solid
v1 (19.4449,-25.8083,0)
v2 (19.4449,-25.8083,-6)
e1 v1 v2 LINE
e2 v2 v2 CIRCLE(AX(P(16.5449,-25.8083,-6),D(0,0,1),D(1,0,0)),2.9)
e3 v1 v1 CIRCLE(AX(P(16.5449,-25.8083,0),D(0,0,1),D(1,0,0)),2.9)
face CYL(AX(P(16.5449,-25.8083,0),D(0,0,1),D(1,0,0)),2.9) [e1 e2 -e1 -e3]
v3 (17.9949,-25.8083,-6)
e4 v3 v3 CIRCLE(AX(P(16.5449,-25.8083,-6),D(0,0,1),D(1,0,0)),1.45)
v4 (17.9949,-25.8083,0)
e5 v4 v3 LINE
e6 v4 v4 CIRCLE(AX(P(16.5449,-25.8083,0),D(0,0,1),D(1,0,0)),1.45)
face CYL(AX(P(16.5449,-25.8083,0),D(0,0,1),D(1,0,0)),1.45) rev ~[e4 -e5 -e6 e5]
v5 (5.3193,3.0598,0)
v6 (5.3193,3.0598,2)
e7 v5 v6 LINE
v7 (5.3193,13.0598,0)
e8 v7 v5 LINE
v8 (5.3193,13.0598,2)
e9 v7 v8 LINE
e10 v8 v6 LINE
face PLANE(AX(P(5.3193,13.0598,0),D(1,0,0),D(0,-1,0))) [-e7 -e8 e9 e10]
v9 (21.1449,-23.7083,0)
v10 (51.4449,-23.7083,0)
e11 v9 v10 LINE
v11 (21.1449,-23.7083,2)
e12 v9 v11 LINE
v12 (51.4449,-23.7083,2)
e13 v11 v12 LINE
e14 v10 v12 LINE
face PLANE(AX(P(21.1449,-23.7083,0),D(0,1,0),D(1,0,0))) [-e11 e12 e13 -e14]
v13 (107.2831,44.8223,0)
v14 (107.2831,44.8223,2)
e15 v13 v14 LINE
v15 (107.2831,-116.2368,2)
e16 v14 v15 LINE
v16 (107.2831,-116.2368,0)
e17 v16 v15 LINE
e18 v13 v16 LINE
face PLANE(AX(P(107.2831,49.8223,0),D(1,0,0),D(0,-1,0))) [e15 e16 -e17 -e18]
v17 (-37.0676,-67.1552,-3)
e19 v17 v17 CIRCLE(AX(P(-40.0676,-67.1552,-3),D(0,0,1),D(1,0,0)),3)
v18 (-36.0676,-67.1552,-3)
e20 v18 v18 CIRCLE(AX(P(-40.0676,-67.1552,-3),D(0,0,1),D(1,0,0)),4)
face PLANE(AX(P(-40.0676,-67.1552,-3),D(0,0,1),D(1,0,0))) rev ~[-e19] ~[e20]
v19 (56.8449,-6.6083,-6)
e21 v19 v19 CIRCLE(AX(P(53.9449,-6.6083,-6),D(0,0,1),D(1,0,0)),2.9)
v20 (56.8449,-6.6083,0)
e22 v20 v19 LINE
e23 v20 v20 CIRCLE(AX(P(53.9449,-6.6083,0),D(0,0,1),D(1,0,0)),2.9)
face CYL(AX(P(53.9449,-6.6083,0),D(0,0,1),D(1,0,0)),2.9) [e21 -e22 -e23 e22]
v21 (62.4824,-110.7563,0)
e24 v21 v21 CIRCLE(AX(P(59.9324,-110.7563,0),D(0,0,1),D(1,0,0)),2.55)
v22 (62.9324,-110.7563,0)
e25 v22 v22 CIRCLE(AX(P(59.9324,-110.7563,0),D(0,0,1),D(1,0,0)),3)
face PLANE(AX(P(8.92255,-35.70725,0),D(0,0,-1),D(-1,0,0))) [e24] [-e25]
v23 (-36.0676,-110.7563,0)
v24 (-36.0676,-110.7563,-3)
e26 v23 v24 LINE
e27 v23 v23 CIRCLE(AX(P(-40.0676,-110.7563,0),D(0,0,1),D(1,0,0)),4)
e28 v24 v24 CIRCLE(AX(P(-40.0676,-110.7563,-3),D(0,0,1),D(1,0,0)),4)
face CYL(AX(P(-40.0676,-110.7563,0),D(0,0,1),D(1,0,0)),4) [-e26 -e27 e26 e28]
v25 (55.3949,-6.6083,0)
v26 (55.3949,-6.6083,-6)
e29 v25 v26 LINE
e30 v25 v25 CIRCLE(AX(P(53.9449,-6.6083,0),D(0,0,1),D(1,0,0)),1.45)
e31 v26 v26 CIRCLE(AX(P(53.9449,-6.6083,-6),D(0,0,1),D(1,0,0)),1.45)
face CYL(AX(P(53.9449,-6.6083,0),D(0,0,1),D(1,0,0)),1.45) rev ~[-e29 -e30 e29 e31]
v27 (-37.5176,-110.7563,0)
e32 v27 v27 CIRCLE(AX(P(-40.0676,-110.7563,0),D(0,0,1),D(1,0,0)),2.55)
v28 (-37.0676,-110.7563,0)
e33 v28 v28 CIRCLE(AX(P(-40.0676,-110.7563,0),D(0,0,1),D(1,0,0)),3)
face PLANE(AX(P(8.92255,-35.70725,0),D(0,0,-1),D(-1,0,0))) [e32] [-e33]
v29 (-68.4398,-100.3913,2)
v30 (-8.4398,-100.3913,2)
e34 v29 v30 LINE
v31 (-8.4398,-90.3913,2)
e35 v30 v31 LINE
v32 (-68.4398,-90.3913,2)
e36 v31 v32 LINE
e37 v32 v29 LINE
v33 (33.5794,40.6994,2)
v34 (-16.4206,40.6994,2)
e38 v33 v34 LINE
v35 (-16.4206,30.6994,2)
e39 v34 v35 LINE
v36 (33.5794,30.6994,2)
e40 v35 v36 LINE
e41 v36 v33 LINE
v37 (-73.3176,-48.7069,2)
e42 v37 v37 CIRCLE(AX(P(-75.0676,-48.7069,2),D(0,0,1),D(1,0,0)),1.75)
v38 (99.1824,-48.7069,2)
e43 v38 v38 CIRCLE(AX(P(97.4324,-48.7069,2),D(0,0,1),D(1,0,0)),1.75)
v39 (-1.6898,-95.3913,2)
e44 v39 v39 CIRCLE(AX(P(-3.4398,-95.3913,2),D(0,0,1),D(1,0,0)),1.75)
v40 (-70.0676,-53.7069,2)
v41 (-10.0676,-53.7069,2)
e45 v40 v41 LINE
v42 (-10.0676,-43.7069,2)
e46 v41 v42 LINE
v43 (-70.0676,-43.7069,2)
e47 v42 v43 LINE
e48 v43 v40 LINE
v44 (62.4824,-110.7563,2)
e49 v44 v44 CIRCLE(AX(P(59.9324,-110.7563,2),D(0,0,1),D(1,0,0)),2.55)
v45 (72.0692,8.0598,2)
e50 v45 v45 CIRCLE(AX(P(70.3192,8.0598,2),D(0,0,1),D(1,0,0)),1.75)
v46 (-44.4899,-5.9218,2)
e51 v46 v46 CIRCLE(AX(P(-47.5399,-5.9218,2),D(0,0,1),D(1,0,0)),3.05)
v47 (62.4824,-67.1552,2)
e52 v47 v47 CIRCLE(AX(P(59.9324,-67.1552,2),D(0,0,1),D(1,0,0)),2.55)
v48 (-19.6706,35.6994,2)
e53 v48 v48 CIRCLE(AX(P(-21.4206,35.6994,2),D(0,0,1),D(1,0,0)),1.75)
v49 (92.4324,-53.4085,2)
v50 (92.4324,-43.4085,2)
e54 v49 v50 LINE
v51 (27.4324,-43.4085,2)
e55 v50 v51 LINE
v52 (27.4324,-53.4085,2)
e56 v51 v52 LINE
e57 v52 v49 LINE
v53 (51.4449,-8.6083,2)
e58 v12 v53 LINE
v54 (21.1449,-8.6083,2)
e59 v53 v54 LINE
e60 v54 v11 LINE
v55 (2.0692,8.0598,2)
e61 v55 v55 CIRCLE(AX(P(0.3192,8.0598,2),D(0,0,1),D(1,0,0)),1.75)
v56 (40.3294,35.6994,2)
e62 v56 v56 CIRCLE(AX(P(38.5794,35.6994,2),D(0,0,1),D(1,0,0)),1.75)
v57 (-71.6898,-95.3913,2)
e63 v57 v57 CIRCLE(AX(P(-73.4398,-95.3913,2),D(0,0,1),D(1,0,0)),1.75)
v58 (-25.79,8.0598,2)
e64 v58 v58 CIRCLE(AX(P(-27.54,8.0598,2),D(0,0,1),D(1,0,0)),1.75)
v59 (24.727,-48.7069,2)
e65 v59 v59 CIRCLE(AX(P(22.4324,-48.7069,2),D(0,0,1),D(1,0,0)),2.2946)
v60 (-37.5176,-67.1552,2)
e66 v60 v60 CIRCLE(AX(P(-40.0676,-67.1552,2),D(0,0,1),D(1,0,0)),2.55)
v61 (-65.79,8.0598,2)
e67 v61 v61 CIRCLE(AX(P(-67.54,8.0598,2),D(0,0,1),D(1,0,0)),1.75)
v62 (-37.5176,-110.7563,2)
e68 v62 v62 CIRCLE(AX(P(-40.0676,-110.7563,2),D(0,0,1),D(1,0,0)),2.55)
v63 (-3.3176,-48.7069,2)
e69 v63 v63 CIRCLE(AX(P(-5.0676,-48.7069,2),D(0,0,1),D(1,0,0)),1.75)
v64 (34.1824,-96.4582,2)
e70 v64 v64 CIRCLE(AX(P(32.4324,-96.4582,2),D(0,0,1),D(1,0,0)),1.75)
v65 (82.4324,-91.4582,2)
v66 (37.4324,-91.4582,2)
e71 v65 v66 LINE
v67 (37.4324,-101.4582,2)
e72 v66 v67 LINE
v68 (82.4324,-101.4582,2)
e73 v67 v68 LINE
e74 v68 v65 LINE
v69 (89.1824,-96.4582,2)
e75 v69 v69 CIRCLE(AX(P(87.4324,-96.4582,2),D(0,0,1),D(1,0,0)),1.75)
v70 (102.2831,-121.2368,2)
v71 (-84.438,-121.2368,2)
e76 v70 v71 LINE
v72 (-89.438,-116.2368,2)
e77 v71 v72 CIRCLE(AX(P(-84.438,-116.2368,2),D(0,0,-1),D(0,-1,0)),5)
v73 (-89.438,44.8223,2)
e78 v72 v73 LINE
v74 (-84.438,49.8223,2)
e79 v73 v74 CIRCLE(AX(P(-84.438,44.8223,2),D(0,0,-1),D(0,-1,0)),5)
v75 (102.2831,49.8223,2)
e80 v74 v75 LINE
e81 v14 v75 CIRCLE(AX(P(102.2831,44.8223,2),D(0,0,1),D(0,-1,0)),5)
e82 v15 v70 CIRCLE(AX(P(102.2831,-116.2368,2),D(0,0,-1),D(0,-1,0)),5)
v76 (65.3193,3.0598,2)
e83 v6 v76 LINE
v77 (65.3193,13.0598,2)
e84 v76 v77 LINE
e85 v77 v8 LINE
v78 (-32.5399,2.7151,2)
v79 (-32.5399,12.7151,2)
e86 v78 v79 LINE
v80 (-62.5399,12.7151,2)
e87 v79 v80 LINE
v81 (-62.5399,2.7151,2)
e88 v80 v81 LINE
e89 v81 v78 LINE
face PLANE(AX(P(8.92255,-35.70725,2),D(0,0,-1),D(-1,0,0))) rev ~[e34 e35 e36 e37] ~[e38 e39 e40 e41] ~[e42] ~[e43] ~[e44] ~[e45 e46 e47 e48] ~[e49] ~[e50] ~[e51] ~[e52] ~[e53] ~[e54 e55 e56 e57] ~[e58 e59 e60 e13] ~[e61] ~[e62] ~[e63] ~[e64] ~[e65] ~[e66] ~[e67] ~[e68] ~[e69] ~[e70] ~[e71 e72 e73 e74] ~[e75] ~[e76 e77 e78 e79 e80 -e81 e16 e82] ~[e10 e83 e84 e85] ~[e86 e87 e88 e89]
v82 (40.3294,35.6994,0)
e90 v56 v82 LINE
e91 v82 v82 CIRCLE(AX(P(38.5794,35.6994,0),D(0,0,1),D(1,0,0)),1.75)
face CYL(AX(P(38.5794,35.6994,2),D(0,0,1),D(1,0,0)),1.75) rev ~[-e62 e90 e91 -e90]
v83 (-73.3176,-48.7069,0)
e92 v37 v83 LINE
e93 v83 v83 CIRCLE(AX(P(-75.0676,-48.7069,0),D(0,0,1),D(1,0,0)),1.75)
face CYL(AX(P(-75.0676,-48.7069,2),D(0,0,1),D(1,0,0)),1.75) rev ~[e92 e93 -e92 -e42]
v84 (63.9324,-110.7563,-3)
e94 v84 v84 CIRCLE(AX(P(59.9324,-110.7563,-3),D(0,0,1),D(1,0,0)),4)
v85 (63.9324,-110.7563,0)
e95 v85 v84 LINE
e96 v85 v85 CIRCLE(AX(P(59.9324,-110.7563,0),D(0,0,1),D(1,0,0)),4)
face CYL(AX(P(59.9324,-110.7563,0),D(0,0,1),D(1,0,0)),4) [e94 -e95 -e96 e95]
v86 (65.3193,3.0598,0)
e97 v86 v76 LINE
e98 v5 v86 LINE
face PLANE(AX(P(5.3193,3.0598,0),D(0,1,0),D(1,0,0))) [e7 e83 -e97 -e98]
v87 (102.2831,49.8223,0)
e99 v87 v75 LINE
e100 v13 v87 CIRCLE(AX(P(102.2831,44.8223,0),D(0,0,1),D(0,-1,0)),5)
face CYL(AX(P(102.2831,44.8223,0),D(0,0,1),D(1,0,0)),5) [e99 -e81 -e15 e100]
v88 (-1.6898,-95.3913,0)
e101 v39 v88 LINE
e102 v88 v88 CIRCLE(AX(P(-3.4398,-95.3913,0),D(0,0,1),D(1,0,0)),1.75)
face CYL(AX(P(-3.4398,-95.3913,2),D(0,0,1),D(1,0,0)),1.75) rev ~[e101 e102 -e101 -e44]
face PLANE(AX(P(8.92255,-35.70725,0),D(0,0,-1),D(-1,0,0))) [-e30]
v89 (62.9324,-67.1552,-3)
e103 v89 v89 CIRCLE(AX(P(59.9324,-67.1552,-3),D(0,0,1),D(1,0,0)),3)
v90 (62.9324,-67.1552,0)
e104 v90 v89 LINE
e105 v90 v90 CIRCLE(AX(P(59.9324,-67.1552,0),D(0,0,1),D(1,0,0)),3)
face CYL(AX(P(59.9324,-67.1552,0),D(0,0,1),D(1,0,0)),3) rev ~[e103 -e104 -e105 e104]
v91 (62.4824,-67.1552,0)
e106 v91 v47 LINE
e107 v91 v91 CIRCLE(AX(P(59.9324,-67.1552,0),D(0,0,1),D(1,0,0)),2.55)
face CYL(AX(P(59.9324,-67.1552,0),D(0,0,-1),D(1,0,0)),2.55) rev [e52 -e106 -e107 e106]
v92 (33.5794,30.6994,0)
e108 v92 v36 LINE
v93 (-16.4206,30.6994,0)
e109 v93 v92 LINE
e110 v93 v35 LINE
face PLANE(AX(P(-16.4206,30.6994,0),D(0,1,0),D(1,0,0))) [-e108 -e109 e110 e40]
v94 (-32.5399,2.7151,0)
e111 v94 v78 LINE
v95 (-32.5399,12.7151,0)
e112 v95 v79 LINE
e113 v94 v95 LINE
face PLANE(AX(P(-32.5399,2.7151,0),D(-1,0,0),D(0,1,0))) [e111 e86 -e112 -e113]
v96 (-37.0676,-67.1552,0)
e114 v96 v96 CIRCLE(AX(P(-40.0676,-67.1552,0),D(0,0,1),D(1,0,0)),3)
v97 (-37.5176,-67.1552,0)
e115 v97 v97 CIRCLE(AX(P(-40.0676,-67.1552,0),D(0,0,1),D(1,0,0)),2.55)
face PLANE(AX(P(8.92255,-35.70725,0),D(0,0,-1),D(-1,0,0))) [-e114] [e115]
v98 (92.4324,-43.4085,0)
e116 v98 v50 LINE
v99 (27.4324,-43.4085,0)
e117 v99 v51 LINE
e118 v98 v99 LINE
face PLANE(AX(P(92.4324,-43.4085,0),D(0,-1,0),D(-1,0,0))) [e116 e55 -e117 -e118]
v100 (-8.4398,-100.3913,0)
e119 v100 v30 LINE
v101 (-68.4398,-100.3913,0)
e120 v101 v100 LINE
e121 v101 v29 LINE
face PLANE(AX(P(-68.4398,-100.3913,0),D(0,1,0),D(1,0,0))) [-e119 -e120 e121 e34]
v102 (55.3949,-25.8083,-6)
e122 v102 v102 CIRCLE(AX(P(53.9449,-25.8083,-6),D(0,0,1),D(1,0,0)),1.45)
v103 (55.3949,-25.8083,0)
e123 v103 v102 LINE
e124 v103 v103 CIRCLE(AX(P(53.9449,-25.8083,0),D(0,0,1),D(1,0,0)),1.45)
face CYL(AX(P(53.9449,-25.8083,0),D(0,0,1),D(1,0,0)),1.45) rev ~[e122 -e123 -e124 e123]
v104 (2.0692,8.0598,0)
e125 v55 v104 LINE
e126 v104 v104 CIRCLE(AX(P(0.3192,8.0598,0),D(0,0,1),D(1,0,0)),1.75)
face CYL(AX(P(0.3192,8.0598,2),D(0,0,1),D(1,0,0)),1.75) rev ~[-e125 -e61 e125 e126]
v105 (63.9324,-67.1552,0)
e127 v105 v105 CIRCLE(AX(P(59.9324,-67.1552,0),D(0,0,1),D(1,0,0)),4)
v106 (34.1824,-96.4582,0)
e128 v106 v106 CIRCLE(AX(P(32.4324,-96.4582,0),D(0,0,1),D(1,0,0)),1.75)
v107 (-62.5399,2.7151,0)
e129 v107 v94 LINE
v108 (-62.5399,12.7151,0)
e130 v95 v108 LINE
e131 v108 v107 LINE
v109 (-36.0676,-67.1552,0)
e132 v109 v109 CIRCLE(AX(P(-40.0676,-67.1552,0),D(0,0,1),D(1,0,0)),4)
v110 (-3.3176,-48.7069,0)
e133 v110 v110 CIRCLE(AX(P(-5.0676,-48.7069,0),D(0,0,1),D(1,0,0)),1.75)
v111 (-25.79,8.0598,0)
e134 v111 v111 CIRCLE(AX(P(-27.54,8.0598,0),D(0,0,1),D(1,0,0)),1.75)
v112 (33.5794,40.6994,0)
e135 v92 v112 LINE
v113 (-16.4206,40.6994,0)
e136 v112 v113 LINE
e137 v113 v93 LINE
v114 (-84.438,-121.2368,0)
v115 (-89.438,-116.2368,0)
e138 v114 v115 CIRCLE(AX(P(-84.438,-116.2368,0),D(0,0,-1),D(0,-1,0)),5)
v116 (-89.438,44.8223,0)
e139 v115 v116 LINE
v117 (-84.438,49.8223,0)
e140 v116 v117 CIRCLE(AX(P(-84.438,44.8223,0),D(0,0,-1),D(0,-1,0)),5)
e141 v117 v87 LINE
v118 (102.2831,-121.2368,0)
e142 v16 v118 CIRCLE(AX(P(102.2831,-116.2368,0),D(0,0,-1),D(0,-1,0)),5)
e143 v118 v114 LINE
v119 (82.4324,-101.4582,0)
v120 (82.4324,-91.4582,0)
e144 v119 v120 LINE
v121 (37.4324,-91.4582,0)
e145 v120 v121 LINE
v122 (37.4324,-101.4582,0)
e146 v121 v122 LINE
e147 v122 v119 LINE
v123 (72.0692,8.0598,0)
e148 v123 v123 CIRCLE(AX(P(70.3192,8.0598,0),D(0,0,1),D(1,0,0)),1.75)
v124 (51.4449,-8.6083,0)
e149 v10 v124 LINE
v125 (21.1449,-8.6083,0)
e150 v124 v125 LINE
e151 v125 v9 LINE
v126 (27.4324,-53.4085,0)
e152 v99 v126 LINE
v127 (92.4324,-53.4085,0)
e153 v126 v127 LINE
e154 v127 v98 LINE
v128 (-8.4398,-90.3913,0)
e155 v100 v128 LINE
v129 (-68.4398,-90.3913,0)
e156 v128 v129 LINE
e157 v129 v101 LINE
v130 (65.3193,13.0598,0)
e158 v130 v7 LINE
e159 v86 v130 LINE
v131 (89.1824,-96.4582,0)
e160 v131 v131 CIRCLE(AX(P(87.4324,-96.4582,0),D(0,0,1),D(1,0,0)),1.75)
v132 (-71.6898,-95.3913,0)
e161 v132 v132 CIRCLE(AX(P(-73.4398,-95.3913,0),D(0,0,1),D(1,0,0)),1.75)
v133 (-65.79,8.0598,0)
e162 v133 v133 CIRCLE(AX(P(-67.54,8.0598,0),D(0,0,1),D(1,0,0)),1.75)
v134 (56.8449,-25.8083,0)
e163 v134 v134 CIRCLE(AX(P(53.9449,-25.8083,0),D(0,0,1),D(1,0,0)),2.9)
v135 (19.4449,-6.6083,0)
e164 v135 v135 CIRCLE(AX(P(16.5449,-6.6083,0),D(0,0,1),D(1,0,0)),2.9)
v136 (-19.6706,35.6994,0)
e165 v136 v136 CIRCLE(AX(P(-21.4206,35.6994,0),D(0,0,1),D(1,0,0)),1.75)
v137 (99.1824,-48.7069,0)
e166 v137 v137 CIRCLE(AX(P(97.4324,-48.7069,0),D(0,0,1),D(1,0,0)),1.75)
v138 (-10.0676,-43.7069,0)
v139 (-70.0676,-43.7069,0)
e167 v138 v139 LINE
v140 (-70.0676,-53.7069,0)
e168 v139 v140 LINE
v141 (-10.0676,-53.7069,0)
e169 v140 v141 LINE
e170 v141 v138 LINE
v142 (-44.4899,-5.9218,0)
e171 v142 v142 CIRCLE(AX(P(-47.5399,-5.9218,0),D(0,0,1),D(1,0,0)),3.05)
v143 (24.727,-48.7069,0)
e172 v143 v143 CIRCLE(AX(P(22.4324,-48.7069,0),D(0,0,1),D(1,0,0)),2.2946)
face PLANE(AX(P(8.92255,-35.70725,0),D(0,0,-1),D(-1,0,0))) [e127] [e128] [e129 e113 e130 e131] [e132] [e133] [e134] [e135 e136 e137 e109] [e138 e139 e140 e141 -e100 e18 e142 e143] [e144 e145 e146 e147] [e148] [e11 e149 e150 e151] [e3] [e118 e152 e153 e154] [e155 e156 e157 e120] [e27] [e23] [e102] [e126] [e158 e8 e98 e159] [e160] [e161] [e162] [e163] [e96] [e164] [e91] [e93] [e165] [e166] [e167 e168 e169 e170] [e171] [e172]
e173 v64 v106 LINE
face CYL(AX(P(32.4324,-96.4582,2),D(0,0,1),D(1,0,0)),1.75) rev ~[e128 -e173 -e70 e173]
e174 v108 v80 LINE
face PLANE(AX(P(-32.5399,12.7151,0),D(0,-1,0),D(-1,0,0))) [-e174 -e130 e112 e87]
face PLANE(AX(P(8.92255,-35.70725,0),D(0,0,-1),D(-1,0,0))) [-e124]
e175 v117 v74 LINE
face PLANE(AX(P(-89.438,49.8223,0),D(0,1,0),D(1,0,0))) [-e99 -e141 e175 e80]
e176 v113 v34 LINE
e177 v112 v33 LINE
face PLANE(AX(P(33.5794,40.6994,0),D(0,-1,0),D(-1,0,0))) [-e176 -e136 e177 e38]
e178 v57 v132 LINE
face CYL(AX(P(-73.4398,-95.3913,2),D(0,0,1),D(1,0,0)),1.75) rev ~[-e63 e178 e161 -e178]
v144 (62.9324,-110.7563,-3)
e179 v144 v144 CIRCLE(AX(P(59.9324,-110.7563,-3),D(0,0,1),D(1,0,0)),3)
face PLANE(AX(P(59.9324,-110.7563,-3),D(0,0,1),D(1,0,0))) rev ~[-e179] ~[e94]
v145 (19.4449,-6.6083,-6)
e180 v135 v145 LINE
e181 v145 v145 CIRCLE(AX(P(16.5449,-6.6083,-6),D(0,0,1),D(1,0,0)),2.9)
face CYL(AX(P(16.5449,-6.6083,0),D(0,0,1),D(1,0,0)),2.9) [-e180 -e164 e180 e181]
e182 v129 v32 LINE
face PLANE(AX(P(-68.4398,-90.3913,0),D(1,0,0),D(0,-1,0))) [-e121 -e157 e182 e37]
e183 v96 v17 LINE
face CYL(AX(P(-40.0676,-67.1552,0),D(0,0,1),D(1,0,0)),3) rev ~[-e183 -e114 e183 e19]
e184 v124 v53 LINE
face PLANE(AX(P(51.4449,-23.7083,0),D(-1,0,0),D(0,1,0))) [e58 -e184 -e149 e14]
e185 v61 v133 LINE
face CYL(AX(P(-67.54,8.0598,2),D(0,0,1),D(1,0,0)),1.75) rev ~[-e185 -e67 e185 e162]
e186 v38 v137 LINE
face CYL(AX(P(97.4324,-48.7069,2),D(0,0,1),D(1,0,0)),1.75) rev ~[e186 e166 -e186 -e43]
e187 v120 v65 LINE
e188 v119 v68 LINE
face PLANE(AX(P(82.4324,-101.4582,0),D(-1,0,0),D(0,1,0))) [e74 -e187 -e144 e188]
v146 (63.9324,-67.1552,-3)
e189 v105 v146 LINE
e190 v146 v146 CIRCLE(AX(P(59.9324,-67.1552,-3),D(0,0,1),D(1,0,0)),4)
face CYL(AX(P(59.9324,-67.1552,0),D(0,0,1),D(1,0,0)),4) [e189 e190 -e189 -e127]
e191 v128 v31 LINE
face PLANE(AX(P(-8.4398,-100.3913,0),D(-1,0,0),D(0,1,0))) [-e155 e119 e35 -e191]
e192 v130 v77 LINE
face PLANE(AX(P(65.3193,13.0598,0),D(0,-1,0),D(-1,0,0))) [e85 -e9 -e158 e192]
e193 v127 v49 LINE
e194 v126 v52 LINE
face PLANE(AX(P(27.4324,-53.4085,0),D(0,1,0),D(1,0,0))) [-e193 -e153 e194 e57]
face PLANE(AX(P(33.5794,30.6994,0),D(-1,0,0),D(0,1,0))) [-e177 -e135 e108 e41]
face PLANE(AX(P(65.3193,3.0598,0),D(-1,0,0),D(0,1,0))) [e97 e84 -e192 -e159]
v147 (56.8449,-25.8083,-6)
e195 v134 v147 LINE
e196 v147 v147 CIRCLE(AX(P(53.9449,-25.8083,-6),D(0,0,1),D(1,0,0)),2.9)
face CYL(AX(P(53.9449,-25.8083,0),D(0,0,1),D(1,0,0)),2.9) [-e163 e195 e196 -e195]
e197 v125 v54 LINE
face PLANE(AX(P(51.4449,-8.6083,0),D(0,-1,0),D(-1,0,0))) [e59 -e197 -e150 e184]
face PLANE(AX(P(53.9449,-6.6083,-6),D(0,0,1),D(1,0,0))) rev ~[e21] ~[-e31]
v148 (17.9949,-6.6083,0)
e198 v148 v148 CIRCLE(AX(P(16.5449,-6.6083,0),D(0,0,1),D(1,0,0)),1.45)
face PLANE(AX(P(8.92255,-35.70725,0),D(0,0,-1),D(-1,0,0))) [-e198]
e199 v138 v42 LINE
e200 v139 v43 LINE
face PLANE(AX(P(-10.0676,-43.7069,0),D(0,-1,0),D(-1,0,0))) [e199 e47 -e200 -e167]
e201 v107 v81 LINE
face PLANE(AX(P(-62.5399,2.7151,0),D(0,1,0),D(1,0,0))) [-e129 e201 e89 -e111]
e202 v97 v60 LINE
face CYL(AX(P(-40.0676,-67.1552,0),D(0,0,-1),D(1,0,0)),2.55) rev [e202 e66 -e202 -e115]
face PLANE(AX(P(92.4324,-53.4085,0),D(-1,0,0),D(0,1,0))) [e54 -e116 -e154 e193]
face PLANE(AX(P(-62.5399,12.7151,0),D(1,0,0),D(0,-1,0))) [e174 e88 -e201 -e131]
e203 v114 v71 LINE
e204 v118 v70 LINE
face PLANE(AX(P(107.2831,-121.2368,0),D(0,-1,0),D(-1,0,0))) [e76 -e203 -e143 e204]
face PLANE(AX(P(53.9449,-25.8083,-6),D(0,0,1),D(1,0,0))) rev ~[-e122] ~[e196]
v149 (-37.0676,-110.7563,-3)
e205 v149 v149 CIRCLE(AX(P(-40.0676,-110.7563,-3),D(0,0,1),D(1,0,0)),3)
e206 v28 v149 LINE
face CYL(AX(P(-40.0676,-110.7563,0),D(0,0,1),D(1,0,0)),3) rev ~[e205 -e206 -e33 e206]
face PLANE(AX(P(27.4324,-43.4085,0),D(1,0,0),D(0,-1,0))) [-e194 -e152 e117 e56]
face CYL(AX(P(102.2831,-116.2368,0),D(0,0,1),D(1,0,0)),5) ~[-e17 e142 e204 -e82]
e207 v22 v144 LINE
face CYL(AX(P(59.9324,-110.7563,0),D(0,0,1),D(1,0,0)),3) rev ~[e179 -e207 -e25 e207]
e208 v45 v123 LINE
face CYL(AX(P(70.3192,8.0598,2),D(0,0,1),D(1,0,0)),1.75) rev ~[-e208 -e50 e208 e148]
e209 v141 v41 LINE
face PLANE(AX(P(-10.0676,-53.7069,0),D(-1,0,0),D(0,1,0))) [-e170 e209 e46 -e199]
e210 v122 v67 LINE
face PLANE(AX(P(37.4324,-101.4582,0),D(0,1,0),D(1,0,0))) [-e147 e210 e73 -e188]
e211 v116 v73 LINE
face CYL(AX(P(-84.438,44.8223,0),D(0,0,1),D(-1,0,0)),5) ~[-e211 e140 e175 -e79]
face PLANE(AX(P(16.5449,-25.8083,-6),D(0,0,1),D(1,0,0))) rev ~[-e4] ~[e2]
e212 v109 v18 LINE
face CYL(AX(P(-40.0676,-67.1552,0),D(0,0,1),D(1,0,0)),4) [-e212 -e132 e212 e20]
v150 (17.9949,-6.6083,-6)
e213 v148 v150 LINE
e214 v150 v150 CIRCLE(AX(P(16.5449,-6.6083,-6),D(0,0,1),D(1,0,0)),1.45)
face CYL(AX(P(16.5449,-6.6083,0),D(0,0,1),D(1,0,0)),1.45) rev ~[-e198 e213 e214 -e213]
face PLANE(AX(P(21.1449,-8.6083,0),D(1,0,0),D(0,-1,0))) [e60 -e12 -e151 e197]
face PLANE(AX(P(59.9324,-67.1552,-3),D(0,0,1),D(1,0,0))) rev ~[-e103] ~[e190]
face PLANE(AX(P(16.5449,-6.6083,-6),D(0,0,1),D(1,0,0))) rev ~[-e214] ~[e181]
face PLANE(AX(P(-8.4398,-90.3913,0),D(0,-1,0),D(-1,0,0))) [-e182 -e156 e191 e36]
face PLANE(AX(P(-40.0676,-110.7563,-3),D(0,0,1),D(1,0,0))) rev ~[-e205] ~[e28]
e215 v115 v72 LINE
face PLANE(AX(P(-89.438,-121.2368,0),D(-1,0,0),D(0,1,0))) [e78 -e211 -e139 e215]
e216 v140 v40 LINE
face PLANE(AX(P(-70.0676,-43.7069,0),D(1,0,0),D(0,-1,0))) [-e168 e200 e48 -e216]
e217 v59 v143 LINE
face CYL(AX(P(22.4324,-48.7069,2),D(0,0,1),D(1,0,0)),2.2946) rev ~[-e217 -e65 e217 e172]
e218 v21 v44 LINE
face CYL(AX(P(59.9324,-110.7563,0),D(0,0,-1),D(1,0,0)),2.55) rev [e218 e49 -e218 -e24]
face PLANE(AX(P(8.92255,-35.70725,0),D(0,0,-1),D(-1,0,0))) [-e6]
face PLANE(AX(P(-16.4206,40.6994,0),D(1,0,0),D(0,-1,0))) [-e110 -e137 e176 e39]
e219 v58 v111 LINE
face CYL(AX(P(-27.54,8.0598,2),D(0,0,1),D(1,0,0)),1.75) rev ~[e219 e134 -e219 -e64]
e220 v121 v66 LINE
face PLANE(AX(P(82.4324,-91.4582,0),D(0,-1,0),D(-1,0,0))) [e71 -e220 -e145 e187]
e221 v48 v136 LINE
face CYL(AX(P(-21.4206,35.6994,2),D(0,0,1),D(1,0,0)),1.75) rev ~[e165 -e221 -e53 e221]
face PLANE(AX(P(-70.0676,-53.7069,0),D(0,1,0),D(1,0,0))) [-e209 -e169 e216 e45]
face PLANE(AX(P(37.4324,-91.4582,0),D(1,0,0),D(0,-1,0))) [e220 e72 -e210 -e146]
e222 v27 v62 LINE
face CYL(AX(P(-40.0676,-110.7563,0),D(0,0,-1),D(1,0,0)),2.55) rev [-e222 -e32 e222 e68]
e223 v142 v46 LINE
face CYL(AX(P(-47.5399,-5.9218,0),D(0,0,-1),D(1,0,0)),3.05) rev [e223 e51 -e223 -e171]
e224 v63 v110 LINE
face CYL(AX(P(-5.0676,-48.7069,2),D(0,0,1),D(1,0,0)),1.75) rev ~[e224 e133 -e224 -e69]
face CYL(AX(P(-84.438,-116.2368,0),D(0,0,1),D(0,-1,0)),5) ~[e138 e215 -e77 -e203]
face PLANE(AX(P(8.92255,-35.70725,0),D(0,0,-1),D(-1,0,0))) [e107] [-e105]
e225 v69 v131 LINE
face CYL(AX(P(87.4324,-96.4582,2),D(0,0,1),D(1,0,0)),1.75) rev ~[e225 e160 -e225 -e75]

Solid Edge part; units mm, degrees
sketch "Sketch1" plane through (0, 0, 0) normal (0, 0, 1) x (1, 0, 0)
  line L0 (107.2831, 49.8223) -> (107.2831, -121.2368)
  line L1 (107.2831, -121.2368) -> (-89.438, -121.2368)
  line L2 (-89.438, -121.2368) -> (-89.438, 49.8223)
  line L3 (-89.438, 49.8223) -> (107.2831, 49.8223)
  line L4 (-62.5399, 12.7151) -> (-62.5399, 2.7151)
  line L5 (-62.5399, 2.7151) -> (-32.5399, 2.7151)
  line L6 (-32.5399, 2.7151) -> (-32.5399, 12.7151)
  line L7 (-32.5399, 12.7151) -> (-62.5399, 12.7151)
  line L8 (37.4324, -91.4582) -> (37.4324, -101.4582)
  line L9 (37.4324, -101.4582) -> (82.4324, -101.4582)
  line L10 (82.4324, -101.4582) -> (82.4324, -91.4582)
  line L11 (82.4324, -91.4582) -> (37.4324, -91.4582)
  line L12 (27.4324, -43.4085) -> (27.4324, -53.4085)
  line L13 (27.4324, -53.4085) -> (92.4324, -53.4085)
  line L14 (92.4324, -53.4085) -> (92.4324, -43.4085)
  line L15 (92.4324, -43.4085) -> (27.4324, -43.4085)
  line L16 (-70.0676, -43.7069) -> (-70.0676, -53.7069)
  line L17 (-70.0676, -53.7069) -> (-10.0676, -53.7069)
  line L18 (-10.0676, -53.7069) -> (-10.0676, -43.7069)
  line L19 (-10.0676, -43.7069) -> (-70.0676, -43.7069)
  line L20 (-68.4398, -90.3913) -> (-68.4398, -100.3913)
  line L21 (-68.4398, -100.3913) -> (-8.4398, -100.3913)
  line L22 (-8.4398, -100.3913) -> (-8.4398, -90.3913)
  line L23 (-8.4398, -90.3913) -> (-68.4398, -90.3913)
  line L24 (5.3193, 13.0598) -> (5.3193, 3.0598)
  line L25 (5.3193, 3.0598) -> (65.3193, 3.0598)
  line L26 (65.3193, 3.0598) -> (65.3193, 13.0598)
  line L27 (65.3193, 13.0598) -> (5.3193, 13.0598)
  line L28 (33.5794, 40.6994) -> (-16.4206, 40.6994)
  line L29 (-16.4206, 40.6994) -> (-16.4206, 30.6994)
  line L30 (-16.4206, 30.6994) -> (33.5794, 30.6994)
  line L31 (33.5794, 30.6994) -> (33.5794, 40.6994)
  circle A0 centre (53.9449, -6.6083) radius 2.9
  circle A1 centre (-47.5399, -5.9218) radius 3.05
  circle A2 centre (-40.0676, -67.1552) radius 2.55
  circle A3 centre (-40.0676, -110.7563) radius 2.55
  circle A4 centre (59.9324, -110.7563) radius 2.55
  circle A5 centre (59.9324, -67.1552) radius 2.55
  circle A6 centre (16.5449, -25.8083) radius 2.9
  line L32 (51.4449, -23.7083) -> (51.4449, -8.6083)
  line L33 (51.4449, -8.6083) -> (21.1449, -8.6083)
  line L34 (21.1449, -8.6083) -> (21.1449, -23.7083)
  line L35 (21.1449, -23.7083) -> (51.4449, -23.7083)
  circle A7 centre (16.5449, -6.6083) radius 2.9
  circle A8 centre (53.9449, -25.8083) radius 2.9
  dimension "D1" = 100
  dimension "D2" = 100
  dimension "D3" = 10
  dimension "D4" = 10
  dimension "D5" = 2.9
  dimension "D6" = 2.9
  dimension "D7" = 2.5
extrude "Protrusion1" add sketch "Sketch1" along normal blind 2
fillet "Round_1" radius 5 4 edges at (-89.438, -121.2368, 1) (-89.438, 49.8223, 1) (107.2831, -121.2368, 1) (107.2831, 49.8223, 1)
sketch "Sketch2" plane through (0, 0, 0) normal (0, 0, 1) x (1, 0, 0)
  circle A0 centre (-40.0676, -110.7563) radius 4
  circle A1 centre (-40.0676, -110.7563) radius 3
  circle A2 centre (-40.0676, -67.1552) radius 4
  circle A3 centre (-40.0676, -67.1552) radius 3
  circle A4 centre (59.9324, -67.1552) radius 4
  circle A5 centre (59.9324, -67.1552) radius 3
  circle A6 centre (59.9324, -110.7563) radius 4
  circle A7 centre (59.9324, -110.7563) radius 3
  dimension "D1" = 100
  dimension "D2" = 100
  dimension "D3" = 10
  dimension "D4" = 10
  dimension "D5" = 2.9
  dimension "D6" = 2.9
  dimension "D7" = 2.5
extrude "ExtrudedProtrusion_2" add sketch "Sketch2" against normal blind 3
sketch "Sketch3" plane through (8.9225, -35.7072, 2) normal (0, 0, 1) x (1, 0, 0)
  circle A0 centre (-83.9901, -12.9997) radius 1.75
  circle A1 centre (-82.3623, -59.6841) radius 1.75
  circle A2 centre (-12.3623, -59.6841) radius 1.75
  circle A3 centre (-13.9901, -12.9997) radius 1.75
  circle A4 centre (13.5099, -12.9997) radius 2.2946
  circle A5 centre (88.5099, -12.9997) radius 1.75
  circle A6 centre (78.5099, -60.751) radius 1.75
  circle A7 centre (23.5099, -60.751) radius 1.75
  circle A8 centre (61.3967, 43.767) radius 1.75
  circle A9 centre (-8.6033, 43.767) radius 1.75
  circle A10 centre (29.6569, 71.4066) radius 1.75
  circle A11 centre (-30.3431, 71.4066) radius 1.75
  circle A12 centre (-36.4625, 43.767) radius 1.75
  circle A13 centre (-76.4625, 43.767) radius 1.75
  dimension "D1" = 5
  dimension "D2" = 5
  dimension "D3" = 5
  dimension "D4" = 5
  dimension "D5" = 5
  dimension "D6" = 5
  dimension "D7" = 5
  dimension "D8" = 5
  dimension "D9" = 5
  dimension "D10" = 5
  dimension "D11" = 5
  dimension "D12" = 5
  dimension "D13" = 5
  dimension "D14" = 5
  dimension "D15" = 5
  dimension "D16" = 5
  dimension "D17" = 5
  dimension "D18" = 5
  dimension "D19" = 5
  dimension "D20" = 3.5
  dimension "D21" = 3.5
  dimension "D22" = 3.5
  dimension "D23" = 3.5
  dimension "D24" = 3.5
  dimension "D25" = 3.5
  dimension "D26" = 3.5
  dimension "D27" = 3.5
  dimension "D28" = 3.5
  dimension "D29" = 3.5
  dimension "D30" = 3.5
  dimension "D31" = 3.5
  dimension "D32" = 3.5
extrude "ExtrudedCutout_1" cut sketch "Sketch3" against normal blind 56
sketch "Sketch4" plane through (0, 0, 0) normal (0, 0, 1) x (1, 0, 0)
  circle A0 centre (16.5449, -25.8083) radius 2.9
  circle A1 centre (16.5449, -6.6083) radius 2.9
  circle A2 centre (53.9449, -6.6083) radius 2.9
  circle A3 centre (53.9449, -25.8083) radius 2.9
  dimension "D1" = 100
  dimension "D2" = 100
  dimension "D3" = 10
  dimension "D4" = 10
  dimension "D5" = 2.9
  dimension "D6" = 2.9
  dimension "D7" = 2.5
extrude "ExtrudedProtrusion_4" add sketch "Sketch4" along normal blind 2
sketch "Sketch5" plane through (0, 0, 0) normal (0, 0, 1) x (1, 0, 0)
  circle A0 centre (16.5449, -25.8083) radius 2.9
  circle A1 centre (16.5449, -25.8083) radius 1.45
  circle A2 centre (16.5449, -6.6083) radius 2.9
  circle A3 centre (16.5449, -6.6083) radius 1.45
  circle A4 centre (53.9449, -6.6083) radius 2.9
  circle A5 centre (53.9449, -6.6083) radius 1.45
  circle A6 centre (53.9449, -25.8083) radius 2.9
  circle A7 centre (53.9449, -25.8083) radius 1.45
  dimension "D1" = 100
  dimension "D2" = 100
  dimension "D3" = 10
  dimension "D4" = 10
  dimension "D5" = 2.9
  dimension "D6" = 2.9
  dimension "D7" = 2.5
extrude "ExtrudedProtrusion_5" add sketch "Sketch5" against normal blind 6
